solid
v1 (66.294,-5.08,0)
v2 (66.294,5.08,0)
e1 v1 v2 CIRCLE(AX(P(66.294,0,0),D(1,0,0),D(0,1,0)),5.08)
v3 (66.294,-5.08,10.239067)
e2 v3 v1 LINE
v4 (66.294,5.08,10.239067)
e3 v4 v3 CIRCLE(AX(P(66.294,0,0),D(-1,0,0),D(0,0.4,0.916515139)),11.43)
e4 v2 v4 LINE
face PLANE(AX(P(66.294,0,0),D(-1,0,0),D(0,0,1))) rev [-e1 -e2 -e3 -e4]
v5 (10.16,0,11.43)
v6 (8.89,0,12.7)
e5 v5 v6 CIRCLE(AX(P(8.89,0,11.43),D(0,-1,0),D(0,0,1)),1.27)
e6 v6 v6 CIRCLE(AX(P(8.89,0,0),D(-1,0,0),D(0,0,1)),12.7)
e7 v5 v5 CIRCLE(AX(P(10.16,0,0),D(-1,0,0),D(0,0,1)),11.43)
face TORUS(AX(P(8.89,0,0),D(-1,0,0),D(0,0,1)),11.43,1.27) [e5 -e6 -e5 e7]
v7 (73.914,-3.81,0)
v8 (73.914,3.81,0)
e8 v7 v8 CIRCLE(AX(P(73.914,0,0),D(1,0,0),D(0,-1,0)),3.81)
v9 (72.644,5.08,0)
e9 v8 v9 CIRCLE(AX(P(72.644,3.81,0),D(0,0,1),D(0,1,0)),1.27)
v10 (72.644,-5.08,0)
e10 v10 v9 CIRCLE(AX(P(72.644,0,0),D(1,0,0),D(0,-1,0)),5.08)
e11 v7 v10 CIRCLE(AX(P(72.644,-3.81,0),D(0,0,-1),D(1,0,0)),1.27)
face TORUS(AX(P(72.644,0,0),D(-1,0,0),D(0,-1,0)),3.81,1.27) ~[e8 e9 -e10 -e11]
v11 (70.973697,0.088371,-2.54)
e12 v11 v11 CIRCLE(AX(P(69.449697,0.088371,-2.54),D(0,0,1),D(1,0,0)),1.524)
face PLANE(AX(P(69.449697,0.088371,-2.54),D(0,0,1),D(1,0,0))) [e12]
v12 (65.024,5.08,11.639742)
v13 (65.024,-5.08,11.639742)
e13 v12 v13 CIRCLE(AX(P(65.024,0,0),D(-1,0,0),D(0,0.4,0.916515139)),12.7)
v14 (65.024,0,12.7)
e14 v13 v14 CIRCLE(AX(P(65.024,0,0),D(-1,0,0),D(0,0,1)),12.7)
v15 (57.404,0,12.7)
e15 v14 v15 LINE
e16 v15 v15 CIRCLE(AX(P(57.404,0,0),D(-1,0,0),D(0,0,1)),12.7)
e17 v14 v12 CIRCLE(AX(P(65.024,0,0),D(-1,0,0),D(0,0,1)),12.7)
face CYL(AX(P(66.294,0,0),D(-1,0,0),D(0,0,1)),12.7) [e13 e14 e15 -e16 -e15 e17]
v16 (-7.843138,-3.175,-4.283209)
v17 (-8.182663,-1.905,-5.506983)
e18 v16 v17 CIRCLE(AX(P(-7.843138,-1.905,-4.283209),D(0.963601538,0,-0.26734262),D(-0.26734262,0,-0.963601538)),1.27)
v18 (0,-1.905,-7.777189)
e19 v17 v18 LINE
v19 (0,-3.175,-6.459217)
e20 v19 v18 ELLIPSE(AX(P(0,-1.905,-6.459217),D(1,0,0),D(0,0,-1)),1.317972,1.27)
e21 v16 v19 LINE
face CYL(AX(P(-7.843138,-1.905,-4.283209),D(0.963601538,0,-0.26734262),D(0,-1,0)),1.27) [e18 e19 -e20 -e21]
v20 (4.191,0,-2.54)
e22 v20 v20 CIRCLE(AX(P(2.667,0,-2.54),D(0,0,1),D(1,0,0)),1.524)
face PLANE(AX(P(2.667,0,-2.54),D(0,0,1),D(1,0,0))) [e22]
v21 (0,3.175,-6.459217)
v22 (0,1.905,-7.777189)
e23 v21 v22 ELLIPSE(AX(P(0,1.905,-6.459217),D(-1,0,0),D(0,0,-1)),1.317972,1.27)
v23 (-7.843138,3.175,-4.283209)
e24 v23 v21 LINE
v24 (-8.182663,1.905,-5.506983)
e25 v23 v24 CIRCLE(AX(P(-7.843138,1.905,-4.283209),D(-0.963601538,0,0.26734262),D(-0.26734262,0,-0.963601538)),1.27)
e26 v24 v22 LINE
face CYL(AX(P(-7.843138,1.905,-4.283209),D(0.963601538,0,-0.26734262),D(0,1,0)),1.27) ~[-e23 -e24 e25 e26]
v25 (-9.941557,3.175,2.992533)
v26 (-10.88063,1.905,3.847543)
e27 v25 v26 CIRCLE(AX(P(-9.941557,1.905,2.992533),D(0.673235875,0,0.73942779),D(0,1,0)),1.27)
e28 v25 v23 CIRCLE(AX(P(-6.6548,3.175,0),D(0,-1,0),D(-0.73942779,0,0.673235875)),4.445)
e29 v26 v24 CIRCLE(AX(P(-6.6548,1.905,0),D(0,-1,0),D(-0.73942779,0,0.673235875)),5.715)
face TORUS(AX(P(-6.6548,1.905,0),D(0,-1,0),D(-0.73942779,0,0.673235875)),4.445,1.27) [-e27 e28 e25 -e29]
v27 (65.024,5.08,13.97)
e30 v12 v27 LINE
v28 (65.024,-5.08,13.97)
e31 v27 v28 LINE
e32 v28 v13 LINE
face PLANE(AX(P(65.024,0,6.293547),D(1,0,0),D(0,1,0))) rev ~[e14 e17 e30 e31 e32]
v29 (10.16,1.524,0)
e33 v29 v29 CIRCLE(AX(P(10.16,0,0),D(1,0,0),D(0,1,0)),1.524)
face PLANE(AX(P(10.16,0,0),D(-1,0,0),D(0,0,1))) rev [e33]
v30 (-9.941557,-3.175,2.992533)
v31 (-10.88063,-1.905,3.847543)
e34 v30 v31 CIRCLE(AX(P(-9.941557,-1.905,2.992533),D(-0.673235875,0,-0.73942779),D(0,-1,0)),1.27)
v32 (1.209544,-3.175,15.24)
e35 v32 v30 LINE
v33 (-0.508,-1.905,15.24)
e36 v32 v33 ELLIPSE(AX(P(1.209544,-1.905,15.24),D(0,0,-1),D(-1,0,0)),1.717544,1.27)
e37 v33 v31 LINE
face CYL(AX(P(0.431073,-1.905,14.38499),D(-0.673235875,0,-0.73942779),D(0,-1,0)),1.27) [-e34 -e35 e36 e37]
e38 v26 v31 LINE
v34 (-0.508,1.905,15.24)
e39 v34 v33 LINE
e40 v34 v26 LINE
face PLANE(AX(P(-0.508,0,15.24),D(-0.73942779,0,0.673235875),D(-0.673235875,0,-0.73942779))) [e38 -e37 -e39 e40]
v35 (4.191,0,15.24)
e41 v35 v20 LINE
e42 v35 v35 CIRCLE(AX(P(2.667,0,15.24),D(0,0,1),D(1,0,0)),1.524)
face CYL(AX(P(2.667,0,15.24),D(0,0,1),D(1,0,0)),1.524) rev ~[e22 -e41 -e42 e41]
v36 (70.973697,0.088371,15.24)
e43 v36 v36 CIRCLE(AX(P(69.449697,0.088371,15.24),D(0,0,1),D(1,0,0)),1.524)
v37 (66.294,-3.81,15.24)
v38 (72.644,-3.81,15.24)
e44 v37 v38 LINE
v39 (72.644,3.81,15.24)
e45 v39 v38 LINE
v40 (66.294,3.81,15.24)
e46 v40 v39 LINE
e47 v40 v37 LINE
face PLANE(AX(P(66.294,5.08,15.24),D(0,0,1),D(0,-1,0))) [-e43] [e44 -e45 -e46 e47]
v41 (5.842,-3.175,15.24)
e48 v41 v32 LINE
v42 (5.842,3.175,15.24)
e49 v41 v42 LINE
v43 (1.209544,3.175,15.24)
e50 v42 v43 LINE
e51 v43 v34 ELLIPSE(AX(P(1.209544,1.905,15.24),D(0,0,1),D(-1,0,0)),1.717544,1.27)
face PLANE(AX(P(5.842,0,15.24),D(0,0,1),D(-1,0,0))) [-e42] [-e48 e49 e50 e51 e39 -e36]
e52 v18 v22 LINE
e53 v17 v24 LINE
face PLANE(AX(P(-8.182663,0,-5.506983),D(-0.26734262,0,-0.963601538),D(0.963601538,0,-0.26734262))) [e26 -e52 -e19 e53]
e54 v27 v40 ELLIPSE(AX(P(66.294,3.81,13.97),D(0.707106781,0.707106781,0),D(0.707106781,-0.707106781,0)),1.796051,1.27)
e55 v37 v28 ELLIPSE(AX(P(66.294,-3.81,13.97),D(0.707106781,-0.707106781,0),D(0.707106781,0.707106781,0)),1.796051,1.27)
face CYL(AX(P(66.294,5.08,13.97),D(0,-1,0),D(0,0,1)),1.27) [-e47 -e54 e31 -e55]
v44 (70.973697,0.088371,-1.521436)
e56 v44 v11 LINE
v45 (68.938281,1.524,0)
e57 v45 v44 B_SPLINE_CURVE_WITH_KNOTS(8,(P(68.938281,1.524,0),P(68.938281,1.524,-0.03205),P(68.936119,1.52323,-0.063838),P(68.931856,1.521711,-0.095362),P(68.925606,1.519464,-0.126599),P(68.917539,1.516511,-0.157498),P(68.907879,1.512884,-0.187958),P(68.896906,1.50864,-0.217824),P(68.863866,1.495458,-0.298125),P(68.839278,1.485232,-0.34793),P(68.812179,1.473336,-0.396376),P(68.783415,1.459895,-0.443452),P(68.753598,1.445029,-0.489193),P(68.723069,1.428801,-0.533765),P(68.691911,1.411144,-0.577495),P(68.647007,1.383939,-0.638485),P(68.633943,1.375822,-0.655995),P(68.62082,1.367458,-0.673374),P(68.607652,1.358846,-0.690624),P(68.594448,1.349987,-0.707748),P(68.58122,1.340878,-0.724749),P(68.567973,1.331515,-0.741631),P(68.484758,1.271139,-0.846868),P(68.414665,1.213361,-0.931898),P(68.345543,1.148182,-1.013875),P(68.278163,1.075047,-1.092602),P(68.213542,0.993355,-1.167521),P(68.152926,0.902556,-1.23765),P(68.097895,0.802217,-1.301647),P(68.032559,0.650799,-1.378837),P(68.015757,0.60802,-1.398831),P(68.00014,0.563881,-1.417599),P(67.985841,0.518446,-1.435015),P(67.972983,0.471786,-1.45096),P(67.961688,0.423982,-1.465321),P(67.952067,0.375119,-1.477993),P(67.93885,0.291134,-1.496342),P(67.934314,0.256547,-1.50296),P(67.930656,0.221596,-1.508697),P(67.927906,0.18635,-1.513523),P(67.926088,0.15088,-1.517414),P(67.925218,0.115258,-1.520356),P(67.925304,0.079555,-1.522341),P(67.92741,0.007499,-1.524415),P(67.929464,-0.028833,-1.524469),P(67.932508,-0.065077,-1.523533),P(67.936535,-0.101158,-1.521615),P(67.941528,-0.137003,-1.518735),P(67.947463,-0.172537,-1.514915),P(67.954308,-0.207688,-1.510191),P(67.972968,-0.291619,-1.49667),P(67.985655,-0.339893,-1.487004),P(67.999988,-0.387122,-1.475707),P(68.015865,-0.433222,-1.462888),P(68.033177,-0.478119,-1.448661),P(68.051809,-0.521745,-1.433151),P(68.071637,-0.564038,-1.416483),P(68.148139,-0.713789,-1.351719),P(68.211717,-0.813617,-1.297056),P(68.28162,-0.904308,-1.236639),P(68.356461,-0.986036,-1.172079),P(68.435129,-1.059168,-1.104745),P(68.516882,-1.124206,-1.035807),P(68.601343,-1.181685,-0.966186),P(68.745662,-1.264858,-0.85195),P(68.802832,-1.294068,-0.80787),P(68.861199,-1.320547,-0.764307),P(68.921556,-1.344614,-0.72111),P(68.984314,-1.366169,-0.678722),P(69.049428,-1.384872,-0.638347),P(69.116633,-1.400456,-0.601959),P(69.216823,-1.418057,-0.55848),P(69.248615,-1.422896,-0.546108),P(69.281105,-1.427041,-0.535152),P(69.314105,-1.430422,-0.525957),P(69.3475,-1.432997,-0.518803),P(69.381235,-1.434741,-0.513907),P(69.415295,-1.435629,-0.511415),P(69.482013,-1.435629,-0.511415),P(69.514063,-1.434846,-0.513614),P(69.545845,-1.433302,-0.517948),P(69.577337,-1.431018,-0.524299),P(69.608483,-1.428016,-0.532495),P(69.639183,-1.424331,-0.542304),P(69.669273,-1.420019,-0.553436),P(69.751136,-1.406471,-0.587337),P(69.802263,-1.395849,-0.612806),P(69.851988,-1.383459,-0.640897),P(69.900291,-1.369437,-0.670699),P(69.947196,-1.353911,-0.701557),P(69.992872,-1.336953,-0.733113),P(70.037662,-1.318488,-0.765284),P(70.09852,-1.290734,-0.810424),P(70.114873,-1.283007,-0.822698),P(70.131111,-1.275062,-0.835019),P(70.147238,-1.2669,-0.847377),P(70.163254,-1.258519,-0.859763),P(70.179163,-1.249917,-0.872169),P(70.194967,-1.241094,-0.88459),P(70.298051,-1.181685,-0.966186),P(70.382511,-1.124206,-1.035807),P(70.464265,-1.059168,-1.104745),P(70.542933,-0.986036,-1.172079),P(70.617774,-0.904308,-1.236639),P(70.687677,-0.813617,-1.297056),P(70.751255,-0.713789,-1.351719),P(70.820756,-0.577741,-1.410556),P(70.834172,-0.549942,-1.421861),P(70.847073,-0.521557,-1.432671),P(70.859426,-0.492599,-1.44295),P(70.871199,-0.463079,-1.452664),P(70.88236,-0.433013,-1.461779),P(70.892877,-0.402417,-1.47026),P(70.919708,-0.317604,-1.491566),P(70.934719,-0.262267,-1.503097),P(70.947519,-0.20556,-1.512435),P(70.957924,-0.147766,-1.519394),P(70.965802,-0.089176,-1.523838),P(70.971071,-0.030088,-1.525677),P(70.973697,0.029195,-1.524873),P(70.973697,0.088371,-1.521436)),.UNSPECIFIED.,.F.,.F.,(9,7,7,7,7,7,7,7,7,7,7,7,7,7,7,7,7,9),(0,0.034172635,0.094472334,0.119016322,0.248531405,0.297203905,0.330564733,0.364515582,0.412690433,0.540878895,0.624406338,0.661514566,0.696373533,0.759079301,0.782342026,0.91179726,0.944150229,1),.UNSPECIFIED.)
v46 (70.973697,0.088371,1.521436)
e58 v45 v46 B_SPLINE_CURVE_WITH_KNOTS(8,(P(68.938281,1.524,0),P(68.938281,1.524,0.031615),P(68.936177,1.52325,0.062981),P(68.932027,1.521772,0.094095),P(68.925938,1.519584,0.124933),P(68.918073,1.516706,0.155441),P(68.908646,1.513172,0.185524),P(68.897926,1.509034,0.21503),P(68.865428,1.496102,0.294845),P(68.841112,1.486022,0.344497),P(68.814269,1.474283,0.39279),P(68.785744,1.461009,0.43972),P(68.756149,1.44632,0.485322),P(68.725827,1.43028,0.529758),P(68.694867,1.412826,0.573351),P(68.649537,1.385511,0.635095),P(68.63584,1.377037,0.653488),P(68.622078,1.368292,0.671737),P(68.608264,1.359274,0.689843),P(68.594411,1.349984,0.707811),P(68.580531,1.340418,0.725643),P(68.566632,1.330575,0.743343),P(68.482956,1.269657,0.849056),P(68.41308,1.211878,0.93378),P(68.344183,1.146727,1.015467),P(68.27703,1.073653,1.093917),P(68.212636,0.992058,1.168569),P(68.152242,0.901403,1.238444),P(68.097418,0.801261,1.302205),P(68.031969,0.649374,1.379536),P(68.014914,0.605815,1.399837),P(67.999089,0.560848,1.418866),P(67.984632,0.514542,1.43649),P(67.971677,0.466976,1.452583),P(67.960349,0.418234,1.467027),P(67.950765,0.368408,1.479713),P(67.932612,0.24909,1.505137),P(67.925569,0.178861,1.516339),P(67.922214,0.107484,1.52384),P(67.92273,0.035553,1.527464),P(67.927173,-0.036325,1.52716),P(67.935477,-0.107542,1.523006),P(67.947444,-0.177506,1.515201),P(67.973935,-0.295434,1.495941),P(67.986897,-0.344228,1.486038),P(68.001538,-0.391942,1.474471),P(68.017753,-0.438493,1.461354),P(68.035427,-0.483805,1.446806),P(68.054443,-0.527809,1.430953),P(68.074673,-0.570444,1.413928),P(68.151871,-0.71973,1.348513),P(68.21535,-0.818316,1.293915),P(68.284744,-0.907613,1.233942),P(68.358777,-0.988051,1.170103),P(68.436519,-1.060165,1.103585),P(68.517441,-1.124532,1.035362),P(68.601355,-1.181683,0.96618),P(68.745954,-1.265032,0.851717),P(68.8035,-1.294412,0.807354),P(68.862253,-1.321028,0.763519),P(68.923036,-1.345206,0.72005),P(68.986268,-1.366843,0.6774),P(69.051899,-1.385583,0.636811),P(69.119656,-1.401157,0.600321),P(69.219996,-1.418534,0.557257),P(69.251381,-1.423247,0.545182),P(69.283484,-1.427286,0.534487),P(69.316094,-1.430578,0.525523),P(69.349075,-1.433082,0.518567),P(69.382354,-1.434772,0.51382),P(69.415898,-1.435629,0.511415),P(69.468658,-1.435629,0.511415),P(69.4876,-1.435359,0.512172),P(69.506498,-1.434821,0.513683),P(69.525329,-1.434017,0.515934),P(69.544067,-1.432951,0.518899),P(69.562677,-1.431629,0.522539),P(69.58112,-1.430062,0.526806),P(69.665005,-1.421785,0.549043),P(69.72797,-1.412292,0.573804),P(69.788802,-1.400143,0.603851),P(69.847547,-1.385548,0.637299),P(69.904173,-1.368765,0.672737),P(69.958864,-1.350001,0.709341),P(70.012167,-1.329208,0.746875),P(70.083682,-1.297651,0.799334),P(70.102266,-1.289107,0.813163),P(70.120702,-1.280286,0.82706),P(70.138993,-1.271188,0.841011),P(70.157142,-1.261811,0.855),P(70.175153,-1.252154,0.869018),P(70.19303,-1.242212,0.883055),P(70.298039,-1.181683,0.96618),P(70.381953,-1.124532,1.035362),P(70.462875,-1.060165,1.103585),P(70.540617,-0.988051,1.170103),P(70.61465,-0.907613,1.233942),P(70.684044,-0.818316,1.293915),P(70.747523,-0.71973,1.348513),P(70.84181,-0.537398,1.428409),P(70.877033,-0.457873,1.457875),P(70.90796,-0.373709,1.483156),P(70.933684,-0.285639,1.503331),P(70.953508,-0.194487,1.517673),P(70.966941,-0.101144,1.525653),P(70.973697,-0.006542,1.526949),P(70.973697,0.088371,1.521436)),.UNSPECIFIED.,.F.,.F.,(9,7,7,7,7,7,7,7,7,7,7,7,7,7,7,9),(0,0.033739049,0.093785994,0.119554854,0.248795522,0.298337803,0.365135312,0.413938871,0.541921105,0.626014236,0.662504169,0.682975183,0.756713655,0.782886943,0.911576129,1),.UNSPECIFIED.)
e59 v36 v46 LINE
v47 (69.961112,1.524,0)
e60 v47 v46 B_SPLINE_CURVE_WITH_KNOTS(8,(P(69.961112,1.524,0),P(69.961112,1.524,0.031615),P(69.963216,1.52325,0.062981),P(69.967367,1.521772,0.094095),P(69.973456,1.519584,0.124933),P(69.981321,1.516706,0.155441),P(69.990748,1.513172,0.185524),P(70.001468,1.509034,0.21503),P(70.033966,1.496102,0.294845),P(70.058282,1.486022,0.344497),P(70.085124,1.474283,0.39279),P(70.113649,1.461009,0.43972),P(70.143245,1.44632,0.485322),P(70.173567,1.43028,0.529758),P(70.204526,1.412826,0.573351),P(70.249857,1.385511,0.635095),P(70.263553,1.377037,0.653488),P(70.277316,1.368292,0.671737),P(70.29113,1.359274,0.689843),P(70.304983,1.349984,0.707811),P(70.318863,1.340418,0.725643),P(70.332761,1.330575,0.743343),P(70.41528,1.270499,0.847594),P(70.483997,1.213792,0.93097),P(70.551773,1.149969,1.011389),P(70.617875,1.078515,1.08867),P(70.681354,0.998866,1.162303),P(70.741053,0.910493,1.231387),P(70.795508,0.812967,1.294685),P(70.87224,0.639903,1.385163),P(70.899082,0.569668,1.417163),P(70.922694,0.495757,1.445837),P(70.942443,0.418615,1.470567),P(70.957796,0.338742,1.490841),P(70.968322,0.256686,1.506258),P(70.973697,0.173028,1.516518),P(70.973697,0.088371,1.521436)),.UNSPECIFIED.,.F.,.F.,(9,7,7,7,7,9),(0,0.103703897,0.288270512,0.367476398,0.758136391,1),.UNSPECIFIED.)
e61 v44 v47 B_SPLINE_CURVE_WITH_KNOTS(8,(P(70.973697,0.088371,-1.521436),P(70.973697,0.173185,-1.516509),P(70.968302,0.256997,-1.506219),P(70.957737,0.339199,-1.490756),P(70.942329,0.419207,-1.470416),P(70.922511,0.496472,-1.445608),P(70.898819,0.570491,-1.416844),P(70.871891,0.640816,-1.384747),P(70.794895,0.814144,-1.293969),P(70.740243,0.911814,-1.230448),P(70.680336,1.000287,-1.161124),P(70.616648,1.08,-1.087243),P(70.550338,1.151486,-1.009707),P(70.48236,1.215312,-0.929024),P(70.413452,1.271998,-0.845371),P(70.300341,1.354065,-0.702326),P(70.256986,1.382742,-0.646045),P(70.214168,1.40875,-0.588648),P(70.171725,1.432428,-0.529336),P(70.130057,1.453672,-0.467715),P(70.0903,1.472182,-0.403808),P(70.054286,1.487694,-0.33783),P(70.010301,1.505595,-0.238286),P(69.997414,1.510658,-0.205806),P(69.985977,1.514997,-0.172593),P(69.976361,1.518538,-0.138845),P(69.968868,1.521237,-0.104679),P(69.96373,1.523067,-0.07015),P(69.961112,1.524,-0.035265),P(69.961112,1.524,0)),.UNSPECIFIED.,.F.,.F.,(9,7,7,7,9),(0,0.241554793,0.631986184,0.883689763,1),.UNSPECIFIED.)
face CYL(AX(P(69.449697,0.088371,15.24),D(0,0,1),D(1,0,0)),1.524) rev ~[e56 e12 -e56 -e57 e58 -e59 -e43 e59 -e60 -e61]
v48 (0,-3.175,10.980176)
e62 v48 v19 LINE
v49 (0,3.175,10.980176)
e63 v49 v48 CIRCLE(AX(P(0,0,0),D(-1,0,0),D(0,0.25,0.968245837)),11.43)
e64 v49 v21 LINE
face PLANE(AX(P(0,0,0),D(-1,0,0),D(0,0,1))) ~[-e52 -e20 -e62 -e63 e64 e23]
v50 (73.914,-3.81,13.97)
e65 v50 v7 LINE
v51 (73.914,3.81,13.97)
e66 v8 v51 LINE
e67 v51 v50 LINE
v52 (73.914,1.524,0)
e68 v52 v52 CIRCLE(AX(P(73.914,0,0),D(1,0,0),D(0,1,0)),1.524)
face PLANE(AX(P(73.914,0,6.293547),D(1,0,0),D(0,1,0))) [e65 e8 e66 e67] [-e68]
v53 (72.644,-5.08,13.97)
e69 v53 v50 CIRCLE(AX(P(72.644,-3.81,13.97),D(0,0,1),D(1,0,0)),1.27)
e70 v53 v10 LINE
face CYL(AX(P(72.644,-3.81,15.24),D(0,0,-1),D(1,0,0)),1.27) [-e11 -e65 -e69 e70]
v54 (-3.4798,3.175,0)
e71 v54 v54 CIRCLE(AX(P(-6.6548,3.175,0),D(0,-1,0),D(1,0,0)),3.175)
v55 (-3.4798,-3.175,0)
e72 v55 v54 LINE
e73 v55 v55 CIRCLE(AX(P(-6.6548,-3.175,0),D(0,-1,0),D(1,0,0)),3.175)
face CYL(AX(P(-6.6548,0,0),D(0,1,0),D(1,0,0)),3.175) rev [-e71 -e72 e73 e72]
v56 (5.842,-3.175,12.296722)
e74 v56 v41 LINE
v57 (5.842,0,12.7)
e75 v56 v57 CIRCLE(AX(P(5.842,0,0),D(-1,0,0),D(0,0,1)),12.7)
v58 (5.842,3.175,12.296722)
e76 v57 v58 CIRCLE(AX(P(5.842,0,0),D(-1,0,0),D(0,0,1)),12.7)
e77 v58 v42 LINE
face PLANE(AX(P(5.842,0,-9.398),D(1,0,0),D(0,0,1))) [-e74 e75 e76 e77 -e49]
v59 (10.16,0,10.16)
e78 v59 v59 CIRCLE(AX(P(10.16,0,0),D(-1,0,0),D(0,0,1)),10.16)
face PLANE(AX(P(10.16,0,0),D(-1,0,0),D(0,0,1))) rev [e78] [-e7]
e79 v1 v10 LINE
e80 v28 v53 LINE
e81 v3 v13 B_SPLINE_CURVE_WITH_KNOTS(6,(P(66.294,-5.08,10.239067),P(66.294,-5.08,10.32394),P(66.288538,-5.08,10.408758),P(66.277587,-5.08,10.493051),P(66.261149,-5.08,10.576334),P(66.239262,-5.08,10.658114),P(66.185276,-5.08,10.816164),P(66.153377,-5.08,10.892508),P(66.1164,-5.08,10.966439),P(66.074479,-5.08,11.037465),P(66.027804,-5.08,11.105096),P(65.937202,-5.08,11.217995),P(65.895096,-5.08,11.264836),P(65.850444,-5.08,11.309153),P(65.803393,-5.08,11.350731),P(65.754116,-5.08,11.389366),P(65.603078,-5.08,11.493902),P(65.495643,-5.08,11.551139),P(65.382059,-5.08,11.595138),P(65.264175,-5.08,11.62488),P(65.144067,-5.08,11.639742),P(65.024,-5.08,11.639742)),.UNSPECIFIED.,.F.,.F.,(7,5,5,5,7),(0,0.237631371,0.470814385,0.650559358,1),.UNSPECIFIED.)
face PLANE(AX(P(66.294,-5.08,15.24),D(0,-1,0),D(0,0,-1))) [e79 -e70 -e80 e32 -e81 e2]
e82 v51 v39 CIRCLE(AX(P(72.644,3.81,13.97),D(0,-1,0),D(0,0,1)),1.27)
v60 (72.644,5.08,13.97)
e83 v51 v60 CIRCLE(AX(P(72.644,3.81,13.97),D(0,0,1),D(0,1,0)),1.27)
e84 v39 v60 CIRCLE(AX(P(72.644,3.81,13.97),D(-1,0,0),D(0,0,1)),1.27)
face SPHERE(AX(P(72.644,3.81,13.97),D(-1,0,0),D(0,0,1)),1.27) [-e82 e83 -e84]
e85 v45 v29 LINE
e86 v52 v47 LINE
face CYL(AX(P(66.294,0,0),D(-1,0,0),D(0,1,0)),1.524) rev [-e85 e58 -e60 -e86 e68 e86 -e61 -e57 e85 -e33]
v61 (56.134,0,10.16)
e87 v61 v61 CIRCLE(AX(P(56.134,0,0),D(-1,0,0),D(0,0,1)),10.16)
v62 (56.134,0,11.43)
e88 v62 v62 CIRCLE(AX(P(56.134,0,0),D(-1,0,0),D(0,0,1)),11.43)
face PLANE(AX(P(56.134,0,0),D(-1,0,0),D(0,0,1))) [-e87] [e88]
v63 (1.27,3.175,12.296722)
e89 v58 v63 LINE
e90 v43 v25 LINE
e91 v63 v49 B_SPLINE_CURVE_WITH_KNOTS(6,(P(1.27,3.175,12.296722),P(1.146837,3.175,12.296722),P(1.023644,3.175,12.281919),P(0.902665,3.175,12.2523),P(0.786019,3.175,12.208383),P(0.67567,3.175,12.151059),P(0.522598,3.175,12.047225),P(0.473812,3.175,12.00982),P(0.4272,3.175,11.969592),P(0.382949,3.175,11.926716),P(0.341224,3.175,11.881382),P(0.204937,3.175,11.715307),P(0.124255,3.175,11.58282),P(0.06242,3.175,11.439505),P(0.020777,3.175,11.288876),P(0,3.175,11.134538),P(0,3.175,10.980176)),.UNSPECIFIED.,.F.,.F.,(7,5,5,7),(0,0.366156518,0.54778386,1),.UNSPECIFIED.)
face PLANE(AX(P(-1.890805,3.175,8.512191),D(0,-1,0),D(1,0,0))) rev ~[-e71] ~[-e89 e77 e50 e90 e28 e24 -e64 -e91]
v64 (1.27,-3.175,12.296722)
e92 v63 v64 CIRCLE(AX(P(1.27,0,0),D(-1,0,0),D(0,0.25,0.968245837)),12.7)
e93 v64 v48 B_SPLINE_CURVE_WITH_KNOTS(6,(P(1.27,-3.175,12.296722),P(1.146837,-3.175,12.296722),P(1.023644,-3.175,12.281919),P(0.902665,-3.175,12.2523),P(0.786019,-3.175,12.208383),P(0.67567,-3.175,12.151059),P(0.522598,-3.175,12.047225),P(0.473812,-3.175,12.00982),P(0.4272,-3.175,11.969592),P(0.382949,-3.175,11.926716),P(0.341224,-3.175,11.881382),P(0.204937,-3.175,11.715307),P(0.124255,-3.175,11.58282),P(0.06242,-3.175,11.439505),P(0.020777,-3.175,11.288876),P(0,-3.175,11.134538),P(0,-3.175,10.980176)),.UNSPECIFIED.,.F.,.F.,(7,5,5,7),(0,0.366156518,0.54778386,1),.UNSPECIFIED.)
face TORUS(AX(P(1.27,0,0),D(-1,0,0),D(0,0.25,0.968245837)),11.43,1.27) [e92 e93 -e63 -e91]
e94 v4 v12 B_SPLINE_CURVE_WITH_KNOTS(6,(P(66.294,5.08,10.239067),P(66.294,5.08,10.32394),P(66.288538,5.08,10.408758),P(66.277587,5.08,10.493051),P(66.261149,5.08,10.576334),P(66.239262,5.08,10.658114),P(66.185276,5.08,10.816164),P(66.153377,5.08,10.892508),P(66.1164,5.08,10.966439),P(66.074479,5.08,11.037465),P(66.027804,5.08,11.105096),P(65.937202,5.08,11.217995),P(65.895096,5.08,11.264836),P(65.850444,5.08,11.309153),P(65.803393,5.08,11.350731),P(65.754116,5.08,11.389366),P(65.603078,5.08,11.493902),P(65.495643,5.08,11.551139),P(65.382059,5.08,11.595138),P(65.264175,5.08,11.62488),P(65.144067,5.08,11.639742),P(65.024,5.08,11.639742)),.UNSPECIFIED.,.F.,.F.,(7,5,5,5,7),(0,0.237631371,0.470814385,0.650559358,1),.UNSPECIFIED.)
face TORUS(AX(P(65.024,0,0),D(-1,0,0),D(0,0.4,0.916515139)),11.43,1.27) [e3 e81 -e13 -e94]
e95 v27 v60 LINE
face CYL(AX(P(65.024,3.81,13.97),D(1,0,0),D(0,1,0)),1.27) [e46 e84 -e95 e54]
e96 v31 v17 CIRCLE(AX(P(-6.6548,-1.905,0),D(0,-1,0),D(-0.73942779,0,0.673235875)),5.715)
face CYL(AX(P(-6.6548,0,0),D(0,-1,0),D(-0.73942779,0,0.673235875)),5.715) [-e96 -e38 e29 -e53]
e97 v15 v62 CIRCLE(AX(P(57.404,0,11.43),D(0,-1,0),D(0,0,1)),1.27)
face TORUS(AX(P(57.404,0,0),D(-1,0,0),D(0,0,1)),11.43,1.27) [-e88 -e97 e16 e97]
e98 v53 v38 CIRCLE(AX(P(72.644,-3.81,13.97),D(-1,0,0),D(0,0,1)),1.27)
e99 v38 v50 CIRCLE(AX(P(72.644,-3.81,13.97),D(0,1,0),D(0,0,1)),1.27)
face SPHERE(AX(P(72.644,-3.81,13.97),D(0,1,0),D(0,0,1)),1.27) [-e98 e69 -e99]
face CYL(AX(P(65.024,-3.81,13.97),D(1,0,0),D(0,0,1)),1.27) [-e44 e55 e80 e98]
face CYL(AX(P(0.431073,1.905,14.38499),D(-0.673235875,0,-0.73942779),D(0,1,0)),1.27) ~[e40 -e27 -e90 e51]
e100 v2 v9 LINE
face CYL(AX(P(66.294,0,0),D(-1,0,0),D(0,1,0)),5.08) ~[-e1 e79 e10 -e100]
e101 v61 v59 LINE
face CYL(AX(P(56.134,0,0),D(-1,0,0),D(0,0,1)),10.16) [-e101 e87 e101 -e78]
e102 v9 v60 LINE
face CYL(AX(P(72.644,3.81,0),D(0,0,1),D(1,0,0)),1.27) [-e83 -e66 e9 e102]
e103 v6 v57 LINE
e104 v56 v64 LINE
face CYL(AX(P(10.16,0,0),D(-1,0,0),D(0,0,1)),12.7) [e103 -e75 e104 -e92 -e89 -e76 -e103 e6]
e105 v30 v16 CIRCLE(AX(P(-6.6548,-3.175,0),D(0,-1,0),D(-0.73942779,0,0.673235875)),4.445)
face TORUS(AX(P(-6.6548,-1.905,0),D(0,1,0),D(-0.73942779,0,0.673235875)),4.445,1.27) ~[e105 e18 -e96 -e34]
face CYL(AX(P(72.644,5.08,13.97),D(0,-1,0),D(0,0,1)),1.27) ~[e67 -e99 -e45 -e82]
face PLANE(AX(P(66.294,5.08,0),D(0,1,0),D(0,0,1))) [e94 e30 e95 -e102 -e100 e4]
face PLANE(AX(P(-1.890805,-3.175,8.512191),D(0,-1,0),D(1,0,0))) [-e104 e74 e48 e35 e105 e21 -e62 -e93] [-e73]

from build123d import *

# Parameters (mm, degrees)
F0_W          = 5.842
F0_H          = 12.7
F0_R          = 3.175
F2_DEPTH      = 3.175
F3_R          = 1.524
F4_DEPTH      = 7.62
F4_DEPTH_BACK = 1.27
F6_DEPTH      = 56.134
F5_R          = 1.524
F7_DEPTH      = 17.78
F8_R          = 1.27


with BuildPart() as f1:
    # F0 (on Front) → F1 (revolve)
    with BuildSketch(Plane.XZ):
        Polygon((5.842, 12.7), (5.842, 0), (66.294, 0), (66.294, 12.7), (56.134, 12.7), (56.134, 10.16), (10.16, 10.16), (10.16, 12.7), align=None)
        with Locations((2.921, 6.35)):
            Rectangle(F0_W, F0_H)
    revolve(axis=Axis((33.147, 0, 0), (-1, 0, 0)))

    # F0 (on Front) → F2 (join, symmetric)
    with BuildSketch(Plane.XZ):
        with BuildLine():
            Line((-0.9398, 0), (0, 0))
            Line((0, 0), (0, 12.7))
            Line((0, 12.7), (5.842, 12.7))
            Line((5.842, 12.7), (5.842, 15.24))
            Line((5.842, 15.24), (-0.508, 15.24))
            Line((-0.508, 15.24), (-10.8806298187, 3.8475430269))
            ThreePointArc((-10.8806298187, 3.8475430269), (-4.5919612295, 5.3297205562), (-0.9398, 0))
        make_face()
        with BuildLine():
            ThreePointArc((-8.1826630726, -5.5069827884), (-3.1957909266, -4.5493385486), (-0.9398, 0))
            ThreePointArc((-0.9398, 0), (-4.5919612295, 5.3297205562), (-10.8806298187, 3.8475430269))
            ThreePointArc((-10.8806298187, 3.8475430269), (-12.1459778134, -1.5837270034), (-8.1826630726, -5.5069827884))
        make_face()
        with Locations((-6.6548, 0)):
            Circle(F0_R, mode=Mode.SUBTRACT)
        with BuildLine():
            Line((5.842, 0), (0, 0))
            Line((0, 0), (-0.9398, 0))
            ThreePointArc((-0.9398, 0), (-3.1957909266, -4.5493385486), (-8.1826630726, -5.5069827884))
            Line((-8.1826630726, -5.5069827884), (5.842, -9.398))
            Line((5.842, -9.398), (5.842, 0))
        make_face()
        with Locations((2.921, 6.35)):
            Rectangle(F0_W, F0_H)
    extrude(amount=F2_DEPTH, both=True)

    # F3 (on face) → F4 (join, two sides)
    with BuildSketch(Plane.YZ.offset(66.294)) as f4_sk:
        with BuildLine():
            ThreePointArc((-5.08, 0), (0, 5.08), (5.08, 0))
            Line((5.08, 0), (5.08, 11.6397422652))
            ThreePointArc((5.08, 11.6397422652), (0, 12.7), (-5.08, 11.6397422652))
            Line((-5.08, 11.6397422652), (-5.08, 0))
        make_face()
        with BuildLine():
            ThreePointArc((-5.08, 0), (0, -5.08), (5.08, 0))
            ThreePointArc((5.08, 0), (0, 5.08), (-5.08, 0))
        make_face()
        Circle(F3_R, mode=Mode.SUBTRACT)
        with BuildLine():
            ThreePointArc((-5.08, 11.6397422652), (0, 12.7), (5.08, 11.6397422652))
            Line((5.08, 11.6397422652), (5.08, 15.24))
            Line((5.08, 15.24), (-5.08, 15.24))
            Line((-5.08, 15.24), (-5.08, 11.6397422652))
        make_face()
    extrude(amount=F4_DEPTH)
    extrude(f4_sk.sketch, amount=-F4_DEPTH_BACK)

    # F6 (cut, through all): a face of the model
    f6_faces = [f1.faces().sort_by_distance(p)[0] for p in [
        (66.294, 0, 0),
    ]]
    extrude(f6_faces, amount=-F6_DEPTH, mode=Mode.SUBTRACT)

    # F5 (on face) → F7 (cut)
    with BuildSketch(Plane.XY.offset(15.24)):
        with Locations((2.667, 0)):
            Circle(F5_R)
        with Locations((69.4496968898, 0.0883711446)):
            Circle(F5_R)
    extrude(amount=-F7_DEPTH, mode=Mode.SUBTRACT)

    # F8
    f8_edges = [f1.edges().sort_by_distance(p)[0] for p in [
        (10.16, 0, -12.7),
        (56.134, 0, -12.7),
        (0, 0, -12.7),
        (66.294, 0, -12.7),
        (-5.694315, -3.175, 9.543772),
        (-5.694315, 3.175, 9.543772),
        (-4.091332, 3.175, -6.642086),
        (-4.091332, -3.175, -6.642086),
        (69.469, 5.08, 15.24),
        (73.914, 0, 15.24),
        (69.469, -5.08, 15.24),
        (65.024, 0, 15.24),
        (73.914, -5.08, 7.62),
        (73.914, 5.08, 7.62),
    ]]
    fillet(f8_edges, radius=F8_R)


solid = f1.part
